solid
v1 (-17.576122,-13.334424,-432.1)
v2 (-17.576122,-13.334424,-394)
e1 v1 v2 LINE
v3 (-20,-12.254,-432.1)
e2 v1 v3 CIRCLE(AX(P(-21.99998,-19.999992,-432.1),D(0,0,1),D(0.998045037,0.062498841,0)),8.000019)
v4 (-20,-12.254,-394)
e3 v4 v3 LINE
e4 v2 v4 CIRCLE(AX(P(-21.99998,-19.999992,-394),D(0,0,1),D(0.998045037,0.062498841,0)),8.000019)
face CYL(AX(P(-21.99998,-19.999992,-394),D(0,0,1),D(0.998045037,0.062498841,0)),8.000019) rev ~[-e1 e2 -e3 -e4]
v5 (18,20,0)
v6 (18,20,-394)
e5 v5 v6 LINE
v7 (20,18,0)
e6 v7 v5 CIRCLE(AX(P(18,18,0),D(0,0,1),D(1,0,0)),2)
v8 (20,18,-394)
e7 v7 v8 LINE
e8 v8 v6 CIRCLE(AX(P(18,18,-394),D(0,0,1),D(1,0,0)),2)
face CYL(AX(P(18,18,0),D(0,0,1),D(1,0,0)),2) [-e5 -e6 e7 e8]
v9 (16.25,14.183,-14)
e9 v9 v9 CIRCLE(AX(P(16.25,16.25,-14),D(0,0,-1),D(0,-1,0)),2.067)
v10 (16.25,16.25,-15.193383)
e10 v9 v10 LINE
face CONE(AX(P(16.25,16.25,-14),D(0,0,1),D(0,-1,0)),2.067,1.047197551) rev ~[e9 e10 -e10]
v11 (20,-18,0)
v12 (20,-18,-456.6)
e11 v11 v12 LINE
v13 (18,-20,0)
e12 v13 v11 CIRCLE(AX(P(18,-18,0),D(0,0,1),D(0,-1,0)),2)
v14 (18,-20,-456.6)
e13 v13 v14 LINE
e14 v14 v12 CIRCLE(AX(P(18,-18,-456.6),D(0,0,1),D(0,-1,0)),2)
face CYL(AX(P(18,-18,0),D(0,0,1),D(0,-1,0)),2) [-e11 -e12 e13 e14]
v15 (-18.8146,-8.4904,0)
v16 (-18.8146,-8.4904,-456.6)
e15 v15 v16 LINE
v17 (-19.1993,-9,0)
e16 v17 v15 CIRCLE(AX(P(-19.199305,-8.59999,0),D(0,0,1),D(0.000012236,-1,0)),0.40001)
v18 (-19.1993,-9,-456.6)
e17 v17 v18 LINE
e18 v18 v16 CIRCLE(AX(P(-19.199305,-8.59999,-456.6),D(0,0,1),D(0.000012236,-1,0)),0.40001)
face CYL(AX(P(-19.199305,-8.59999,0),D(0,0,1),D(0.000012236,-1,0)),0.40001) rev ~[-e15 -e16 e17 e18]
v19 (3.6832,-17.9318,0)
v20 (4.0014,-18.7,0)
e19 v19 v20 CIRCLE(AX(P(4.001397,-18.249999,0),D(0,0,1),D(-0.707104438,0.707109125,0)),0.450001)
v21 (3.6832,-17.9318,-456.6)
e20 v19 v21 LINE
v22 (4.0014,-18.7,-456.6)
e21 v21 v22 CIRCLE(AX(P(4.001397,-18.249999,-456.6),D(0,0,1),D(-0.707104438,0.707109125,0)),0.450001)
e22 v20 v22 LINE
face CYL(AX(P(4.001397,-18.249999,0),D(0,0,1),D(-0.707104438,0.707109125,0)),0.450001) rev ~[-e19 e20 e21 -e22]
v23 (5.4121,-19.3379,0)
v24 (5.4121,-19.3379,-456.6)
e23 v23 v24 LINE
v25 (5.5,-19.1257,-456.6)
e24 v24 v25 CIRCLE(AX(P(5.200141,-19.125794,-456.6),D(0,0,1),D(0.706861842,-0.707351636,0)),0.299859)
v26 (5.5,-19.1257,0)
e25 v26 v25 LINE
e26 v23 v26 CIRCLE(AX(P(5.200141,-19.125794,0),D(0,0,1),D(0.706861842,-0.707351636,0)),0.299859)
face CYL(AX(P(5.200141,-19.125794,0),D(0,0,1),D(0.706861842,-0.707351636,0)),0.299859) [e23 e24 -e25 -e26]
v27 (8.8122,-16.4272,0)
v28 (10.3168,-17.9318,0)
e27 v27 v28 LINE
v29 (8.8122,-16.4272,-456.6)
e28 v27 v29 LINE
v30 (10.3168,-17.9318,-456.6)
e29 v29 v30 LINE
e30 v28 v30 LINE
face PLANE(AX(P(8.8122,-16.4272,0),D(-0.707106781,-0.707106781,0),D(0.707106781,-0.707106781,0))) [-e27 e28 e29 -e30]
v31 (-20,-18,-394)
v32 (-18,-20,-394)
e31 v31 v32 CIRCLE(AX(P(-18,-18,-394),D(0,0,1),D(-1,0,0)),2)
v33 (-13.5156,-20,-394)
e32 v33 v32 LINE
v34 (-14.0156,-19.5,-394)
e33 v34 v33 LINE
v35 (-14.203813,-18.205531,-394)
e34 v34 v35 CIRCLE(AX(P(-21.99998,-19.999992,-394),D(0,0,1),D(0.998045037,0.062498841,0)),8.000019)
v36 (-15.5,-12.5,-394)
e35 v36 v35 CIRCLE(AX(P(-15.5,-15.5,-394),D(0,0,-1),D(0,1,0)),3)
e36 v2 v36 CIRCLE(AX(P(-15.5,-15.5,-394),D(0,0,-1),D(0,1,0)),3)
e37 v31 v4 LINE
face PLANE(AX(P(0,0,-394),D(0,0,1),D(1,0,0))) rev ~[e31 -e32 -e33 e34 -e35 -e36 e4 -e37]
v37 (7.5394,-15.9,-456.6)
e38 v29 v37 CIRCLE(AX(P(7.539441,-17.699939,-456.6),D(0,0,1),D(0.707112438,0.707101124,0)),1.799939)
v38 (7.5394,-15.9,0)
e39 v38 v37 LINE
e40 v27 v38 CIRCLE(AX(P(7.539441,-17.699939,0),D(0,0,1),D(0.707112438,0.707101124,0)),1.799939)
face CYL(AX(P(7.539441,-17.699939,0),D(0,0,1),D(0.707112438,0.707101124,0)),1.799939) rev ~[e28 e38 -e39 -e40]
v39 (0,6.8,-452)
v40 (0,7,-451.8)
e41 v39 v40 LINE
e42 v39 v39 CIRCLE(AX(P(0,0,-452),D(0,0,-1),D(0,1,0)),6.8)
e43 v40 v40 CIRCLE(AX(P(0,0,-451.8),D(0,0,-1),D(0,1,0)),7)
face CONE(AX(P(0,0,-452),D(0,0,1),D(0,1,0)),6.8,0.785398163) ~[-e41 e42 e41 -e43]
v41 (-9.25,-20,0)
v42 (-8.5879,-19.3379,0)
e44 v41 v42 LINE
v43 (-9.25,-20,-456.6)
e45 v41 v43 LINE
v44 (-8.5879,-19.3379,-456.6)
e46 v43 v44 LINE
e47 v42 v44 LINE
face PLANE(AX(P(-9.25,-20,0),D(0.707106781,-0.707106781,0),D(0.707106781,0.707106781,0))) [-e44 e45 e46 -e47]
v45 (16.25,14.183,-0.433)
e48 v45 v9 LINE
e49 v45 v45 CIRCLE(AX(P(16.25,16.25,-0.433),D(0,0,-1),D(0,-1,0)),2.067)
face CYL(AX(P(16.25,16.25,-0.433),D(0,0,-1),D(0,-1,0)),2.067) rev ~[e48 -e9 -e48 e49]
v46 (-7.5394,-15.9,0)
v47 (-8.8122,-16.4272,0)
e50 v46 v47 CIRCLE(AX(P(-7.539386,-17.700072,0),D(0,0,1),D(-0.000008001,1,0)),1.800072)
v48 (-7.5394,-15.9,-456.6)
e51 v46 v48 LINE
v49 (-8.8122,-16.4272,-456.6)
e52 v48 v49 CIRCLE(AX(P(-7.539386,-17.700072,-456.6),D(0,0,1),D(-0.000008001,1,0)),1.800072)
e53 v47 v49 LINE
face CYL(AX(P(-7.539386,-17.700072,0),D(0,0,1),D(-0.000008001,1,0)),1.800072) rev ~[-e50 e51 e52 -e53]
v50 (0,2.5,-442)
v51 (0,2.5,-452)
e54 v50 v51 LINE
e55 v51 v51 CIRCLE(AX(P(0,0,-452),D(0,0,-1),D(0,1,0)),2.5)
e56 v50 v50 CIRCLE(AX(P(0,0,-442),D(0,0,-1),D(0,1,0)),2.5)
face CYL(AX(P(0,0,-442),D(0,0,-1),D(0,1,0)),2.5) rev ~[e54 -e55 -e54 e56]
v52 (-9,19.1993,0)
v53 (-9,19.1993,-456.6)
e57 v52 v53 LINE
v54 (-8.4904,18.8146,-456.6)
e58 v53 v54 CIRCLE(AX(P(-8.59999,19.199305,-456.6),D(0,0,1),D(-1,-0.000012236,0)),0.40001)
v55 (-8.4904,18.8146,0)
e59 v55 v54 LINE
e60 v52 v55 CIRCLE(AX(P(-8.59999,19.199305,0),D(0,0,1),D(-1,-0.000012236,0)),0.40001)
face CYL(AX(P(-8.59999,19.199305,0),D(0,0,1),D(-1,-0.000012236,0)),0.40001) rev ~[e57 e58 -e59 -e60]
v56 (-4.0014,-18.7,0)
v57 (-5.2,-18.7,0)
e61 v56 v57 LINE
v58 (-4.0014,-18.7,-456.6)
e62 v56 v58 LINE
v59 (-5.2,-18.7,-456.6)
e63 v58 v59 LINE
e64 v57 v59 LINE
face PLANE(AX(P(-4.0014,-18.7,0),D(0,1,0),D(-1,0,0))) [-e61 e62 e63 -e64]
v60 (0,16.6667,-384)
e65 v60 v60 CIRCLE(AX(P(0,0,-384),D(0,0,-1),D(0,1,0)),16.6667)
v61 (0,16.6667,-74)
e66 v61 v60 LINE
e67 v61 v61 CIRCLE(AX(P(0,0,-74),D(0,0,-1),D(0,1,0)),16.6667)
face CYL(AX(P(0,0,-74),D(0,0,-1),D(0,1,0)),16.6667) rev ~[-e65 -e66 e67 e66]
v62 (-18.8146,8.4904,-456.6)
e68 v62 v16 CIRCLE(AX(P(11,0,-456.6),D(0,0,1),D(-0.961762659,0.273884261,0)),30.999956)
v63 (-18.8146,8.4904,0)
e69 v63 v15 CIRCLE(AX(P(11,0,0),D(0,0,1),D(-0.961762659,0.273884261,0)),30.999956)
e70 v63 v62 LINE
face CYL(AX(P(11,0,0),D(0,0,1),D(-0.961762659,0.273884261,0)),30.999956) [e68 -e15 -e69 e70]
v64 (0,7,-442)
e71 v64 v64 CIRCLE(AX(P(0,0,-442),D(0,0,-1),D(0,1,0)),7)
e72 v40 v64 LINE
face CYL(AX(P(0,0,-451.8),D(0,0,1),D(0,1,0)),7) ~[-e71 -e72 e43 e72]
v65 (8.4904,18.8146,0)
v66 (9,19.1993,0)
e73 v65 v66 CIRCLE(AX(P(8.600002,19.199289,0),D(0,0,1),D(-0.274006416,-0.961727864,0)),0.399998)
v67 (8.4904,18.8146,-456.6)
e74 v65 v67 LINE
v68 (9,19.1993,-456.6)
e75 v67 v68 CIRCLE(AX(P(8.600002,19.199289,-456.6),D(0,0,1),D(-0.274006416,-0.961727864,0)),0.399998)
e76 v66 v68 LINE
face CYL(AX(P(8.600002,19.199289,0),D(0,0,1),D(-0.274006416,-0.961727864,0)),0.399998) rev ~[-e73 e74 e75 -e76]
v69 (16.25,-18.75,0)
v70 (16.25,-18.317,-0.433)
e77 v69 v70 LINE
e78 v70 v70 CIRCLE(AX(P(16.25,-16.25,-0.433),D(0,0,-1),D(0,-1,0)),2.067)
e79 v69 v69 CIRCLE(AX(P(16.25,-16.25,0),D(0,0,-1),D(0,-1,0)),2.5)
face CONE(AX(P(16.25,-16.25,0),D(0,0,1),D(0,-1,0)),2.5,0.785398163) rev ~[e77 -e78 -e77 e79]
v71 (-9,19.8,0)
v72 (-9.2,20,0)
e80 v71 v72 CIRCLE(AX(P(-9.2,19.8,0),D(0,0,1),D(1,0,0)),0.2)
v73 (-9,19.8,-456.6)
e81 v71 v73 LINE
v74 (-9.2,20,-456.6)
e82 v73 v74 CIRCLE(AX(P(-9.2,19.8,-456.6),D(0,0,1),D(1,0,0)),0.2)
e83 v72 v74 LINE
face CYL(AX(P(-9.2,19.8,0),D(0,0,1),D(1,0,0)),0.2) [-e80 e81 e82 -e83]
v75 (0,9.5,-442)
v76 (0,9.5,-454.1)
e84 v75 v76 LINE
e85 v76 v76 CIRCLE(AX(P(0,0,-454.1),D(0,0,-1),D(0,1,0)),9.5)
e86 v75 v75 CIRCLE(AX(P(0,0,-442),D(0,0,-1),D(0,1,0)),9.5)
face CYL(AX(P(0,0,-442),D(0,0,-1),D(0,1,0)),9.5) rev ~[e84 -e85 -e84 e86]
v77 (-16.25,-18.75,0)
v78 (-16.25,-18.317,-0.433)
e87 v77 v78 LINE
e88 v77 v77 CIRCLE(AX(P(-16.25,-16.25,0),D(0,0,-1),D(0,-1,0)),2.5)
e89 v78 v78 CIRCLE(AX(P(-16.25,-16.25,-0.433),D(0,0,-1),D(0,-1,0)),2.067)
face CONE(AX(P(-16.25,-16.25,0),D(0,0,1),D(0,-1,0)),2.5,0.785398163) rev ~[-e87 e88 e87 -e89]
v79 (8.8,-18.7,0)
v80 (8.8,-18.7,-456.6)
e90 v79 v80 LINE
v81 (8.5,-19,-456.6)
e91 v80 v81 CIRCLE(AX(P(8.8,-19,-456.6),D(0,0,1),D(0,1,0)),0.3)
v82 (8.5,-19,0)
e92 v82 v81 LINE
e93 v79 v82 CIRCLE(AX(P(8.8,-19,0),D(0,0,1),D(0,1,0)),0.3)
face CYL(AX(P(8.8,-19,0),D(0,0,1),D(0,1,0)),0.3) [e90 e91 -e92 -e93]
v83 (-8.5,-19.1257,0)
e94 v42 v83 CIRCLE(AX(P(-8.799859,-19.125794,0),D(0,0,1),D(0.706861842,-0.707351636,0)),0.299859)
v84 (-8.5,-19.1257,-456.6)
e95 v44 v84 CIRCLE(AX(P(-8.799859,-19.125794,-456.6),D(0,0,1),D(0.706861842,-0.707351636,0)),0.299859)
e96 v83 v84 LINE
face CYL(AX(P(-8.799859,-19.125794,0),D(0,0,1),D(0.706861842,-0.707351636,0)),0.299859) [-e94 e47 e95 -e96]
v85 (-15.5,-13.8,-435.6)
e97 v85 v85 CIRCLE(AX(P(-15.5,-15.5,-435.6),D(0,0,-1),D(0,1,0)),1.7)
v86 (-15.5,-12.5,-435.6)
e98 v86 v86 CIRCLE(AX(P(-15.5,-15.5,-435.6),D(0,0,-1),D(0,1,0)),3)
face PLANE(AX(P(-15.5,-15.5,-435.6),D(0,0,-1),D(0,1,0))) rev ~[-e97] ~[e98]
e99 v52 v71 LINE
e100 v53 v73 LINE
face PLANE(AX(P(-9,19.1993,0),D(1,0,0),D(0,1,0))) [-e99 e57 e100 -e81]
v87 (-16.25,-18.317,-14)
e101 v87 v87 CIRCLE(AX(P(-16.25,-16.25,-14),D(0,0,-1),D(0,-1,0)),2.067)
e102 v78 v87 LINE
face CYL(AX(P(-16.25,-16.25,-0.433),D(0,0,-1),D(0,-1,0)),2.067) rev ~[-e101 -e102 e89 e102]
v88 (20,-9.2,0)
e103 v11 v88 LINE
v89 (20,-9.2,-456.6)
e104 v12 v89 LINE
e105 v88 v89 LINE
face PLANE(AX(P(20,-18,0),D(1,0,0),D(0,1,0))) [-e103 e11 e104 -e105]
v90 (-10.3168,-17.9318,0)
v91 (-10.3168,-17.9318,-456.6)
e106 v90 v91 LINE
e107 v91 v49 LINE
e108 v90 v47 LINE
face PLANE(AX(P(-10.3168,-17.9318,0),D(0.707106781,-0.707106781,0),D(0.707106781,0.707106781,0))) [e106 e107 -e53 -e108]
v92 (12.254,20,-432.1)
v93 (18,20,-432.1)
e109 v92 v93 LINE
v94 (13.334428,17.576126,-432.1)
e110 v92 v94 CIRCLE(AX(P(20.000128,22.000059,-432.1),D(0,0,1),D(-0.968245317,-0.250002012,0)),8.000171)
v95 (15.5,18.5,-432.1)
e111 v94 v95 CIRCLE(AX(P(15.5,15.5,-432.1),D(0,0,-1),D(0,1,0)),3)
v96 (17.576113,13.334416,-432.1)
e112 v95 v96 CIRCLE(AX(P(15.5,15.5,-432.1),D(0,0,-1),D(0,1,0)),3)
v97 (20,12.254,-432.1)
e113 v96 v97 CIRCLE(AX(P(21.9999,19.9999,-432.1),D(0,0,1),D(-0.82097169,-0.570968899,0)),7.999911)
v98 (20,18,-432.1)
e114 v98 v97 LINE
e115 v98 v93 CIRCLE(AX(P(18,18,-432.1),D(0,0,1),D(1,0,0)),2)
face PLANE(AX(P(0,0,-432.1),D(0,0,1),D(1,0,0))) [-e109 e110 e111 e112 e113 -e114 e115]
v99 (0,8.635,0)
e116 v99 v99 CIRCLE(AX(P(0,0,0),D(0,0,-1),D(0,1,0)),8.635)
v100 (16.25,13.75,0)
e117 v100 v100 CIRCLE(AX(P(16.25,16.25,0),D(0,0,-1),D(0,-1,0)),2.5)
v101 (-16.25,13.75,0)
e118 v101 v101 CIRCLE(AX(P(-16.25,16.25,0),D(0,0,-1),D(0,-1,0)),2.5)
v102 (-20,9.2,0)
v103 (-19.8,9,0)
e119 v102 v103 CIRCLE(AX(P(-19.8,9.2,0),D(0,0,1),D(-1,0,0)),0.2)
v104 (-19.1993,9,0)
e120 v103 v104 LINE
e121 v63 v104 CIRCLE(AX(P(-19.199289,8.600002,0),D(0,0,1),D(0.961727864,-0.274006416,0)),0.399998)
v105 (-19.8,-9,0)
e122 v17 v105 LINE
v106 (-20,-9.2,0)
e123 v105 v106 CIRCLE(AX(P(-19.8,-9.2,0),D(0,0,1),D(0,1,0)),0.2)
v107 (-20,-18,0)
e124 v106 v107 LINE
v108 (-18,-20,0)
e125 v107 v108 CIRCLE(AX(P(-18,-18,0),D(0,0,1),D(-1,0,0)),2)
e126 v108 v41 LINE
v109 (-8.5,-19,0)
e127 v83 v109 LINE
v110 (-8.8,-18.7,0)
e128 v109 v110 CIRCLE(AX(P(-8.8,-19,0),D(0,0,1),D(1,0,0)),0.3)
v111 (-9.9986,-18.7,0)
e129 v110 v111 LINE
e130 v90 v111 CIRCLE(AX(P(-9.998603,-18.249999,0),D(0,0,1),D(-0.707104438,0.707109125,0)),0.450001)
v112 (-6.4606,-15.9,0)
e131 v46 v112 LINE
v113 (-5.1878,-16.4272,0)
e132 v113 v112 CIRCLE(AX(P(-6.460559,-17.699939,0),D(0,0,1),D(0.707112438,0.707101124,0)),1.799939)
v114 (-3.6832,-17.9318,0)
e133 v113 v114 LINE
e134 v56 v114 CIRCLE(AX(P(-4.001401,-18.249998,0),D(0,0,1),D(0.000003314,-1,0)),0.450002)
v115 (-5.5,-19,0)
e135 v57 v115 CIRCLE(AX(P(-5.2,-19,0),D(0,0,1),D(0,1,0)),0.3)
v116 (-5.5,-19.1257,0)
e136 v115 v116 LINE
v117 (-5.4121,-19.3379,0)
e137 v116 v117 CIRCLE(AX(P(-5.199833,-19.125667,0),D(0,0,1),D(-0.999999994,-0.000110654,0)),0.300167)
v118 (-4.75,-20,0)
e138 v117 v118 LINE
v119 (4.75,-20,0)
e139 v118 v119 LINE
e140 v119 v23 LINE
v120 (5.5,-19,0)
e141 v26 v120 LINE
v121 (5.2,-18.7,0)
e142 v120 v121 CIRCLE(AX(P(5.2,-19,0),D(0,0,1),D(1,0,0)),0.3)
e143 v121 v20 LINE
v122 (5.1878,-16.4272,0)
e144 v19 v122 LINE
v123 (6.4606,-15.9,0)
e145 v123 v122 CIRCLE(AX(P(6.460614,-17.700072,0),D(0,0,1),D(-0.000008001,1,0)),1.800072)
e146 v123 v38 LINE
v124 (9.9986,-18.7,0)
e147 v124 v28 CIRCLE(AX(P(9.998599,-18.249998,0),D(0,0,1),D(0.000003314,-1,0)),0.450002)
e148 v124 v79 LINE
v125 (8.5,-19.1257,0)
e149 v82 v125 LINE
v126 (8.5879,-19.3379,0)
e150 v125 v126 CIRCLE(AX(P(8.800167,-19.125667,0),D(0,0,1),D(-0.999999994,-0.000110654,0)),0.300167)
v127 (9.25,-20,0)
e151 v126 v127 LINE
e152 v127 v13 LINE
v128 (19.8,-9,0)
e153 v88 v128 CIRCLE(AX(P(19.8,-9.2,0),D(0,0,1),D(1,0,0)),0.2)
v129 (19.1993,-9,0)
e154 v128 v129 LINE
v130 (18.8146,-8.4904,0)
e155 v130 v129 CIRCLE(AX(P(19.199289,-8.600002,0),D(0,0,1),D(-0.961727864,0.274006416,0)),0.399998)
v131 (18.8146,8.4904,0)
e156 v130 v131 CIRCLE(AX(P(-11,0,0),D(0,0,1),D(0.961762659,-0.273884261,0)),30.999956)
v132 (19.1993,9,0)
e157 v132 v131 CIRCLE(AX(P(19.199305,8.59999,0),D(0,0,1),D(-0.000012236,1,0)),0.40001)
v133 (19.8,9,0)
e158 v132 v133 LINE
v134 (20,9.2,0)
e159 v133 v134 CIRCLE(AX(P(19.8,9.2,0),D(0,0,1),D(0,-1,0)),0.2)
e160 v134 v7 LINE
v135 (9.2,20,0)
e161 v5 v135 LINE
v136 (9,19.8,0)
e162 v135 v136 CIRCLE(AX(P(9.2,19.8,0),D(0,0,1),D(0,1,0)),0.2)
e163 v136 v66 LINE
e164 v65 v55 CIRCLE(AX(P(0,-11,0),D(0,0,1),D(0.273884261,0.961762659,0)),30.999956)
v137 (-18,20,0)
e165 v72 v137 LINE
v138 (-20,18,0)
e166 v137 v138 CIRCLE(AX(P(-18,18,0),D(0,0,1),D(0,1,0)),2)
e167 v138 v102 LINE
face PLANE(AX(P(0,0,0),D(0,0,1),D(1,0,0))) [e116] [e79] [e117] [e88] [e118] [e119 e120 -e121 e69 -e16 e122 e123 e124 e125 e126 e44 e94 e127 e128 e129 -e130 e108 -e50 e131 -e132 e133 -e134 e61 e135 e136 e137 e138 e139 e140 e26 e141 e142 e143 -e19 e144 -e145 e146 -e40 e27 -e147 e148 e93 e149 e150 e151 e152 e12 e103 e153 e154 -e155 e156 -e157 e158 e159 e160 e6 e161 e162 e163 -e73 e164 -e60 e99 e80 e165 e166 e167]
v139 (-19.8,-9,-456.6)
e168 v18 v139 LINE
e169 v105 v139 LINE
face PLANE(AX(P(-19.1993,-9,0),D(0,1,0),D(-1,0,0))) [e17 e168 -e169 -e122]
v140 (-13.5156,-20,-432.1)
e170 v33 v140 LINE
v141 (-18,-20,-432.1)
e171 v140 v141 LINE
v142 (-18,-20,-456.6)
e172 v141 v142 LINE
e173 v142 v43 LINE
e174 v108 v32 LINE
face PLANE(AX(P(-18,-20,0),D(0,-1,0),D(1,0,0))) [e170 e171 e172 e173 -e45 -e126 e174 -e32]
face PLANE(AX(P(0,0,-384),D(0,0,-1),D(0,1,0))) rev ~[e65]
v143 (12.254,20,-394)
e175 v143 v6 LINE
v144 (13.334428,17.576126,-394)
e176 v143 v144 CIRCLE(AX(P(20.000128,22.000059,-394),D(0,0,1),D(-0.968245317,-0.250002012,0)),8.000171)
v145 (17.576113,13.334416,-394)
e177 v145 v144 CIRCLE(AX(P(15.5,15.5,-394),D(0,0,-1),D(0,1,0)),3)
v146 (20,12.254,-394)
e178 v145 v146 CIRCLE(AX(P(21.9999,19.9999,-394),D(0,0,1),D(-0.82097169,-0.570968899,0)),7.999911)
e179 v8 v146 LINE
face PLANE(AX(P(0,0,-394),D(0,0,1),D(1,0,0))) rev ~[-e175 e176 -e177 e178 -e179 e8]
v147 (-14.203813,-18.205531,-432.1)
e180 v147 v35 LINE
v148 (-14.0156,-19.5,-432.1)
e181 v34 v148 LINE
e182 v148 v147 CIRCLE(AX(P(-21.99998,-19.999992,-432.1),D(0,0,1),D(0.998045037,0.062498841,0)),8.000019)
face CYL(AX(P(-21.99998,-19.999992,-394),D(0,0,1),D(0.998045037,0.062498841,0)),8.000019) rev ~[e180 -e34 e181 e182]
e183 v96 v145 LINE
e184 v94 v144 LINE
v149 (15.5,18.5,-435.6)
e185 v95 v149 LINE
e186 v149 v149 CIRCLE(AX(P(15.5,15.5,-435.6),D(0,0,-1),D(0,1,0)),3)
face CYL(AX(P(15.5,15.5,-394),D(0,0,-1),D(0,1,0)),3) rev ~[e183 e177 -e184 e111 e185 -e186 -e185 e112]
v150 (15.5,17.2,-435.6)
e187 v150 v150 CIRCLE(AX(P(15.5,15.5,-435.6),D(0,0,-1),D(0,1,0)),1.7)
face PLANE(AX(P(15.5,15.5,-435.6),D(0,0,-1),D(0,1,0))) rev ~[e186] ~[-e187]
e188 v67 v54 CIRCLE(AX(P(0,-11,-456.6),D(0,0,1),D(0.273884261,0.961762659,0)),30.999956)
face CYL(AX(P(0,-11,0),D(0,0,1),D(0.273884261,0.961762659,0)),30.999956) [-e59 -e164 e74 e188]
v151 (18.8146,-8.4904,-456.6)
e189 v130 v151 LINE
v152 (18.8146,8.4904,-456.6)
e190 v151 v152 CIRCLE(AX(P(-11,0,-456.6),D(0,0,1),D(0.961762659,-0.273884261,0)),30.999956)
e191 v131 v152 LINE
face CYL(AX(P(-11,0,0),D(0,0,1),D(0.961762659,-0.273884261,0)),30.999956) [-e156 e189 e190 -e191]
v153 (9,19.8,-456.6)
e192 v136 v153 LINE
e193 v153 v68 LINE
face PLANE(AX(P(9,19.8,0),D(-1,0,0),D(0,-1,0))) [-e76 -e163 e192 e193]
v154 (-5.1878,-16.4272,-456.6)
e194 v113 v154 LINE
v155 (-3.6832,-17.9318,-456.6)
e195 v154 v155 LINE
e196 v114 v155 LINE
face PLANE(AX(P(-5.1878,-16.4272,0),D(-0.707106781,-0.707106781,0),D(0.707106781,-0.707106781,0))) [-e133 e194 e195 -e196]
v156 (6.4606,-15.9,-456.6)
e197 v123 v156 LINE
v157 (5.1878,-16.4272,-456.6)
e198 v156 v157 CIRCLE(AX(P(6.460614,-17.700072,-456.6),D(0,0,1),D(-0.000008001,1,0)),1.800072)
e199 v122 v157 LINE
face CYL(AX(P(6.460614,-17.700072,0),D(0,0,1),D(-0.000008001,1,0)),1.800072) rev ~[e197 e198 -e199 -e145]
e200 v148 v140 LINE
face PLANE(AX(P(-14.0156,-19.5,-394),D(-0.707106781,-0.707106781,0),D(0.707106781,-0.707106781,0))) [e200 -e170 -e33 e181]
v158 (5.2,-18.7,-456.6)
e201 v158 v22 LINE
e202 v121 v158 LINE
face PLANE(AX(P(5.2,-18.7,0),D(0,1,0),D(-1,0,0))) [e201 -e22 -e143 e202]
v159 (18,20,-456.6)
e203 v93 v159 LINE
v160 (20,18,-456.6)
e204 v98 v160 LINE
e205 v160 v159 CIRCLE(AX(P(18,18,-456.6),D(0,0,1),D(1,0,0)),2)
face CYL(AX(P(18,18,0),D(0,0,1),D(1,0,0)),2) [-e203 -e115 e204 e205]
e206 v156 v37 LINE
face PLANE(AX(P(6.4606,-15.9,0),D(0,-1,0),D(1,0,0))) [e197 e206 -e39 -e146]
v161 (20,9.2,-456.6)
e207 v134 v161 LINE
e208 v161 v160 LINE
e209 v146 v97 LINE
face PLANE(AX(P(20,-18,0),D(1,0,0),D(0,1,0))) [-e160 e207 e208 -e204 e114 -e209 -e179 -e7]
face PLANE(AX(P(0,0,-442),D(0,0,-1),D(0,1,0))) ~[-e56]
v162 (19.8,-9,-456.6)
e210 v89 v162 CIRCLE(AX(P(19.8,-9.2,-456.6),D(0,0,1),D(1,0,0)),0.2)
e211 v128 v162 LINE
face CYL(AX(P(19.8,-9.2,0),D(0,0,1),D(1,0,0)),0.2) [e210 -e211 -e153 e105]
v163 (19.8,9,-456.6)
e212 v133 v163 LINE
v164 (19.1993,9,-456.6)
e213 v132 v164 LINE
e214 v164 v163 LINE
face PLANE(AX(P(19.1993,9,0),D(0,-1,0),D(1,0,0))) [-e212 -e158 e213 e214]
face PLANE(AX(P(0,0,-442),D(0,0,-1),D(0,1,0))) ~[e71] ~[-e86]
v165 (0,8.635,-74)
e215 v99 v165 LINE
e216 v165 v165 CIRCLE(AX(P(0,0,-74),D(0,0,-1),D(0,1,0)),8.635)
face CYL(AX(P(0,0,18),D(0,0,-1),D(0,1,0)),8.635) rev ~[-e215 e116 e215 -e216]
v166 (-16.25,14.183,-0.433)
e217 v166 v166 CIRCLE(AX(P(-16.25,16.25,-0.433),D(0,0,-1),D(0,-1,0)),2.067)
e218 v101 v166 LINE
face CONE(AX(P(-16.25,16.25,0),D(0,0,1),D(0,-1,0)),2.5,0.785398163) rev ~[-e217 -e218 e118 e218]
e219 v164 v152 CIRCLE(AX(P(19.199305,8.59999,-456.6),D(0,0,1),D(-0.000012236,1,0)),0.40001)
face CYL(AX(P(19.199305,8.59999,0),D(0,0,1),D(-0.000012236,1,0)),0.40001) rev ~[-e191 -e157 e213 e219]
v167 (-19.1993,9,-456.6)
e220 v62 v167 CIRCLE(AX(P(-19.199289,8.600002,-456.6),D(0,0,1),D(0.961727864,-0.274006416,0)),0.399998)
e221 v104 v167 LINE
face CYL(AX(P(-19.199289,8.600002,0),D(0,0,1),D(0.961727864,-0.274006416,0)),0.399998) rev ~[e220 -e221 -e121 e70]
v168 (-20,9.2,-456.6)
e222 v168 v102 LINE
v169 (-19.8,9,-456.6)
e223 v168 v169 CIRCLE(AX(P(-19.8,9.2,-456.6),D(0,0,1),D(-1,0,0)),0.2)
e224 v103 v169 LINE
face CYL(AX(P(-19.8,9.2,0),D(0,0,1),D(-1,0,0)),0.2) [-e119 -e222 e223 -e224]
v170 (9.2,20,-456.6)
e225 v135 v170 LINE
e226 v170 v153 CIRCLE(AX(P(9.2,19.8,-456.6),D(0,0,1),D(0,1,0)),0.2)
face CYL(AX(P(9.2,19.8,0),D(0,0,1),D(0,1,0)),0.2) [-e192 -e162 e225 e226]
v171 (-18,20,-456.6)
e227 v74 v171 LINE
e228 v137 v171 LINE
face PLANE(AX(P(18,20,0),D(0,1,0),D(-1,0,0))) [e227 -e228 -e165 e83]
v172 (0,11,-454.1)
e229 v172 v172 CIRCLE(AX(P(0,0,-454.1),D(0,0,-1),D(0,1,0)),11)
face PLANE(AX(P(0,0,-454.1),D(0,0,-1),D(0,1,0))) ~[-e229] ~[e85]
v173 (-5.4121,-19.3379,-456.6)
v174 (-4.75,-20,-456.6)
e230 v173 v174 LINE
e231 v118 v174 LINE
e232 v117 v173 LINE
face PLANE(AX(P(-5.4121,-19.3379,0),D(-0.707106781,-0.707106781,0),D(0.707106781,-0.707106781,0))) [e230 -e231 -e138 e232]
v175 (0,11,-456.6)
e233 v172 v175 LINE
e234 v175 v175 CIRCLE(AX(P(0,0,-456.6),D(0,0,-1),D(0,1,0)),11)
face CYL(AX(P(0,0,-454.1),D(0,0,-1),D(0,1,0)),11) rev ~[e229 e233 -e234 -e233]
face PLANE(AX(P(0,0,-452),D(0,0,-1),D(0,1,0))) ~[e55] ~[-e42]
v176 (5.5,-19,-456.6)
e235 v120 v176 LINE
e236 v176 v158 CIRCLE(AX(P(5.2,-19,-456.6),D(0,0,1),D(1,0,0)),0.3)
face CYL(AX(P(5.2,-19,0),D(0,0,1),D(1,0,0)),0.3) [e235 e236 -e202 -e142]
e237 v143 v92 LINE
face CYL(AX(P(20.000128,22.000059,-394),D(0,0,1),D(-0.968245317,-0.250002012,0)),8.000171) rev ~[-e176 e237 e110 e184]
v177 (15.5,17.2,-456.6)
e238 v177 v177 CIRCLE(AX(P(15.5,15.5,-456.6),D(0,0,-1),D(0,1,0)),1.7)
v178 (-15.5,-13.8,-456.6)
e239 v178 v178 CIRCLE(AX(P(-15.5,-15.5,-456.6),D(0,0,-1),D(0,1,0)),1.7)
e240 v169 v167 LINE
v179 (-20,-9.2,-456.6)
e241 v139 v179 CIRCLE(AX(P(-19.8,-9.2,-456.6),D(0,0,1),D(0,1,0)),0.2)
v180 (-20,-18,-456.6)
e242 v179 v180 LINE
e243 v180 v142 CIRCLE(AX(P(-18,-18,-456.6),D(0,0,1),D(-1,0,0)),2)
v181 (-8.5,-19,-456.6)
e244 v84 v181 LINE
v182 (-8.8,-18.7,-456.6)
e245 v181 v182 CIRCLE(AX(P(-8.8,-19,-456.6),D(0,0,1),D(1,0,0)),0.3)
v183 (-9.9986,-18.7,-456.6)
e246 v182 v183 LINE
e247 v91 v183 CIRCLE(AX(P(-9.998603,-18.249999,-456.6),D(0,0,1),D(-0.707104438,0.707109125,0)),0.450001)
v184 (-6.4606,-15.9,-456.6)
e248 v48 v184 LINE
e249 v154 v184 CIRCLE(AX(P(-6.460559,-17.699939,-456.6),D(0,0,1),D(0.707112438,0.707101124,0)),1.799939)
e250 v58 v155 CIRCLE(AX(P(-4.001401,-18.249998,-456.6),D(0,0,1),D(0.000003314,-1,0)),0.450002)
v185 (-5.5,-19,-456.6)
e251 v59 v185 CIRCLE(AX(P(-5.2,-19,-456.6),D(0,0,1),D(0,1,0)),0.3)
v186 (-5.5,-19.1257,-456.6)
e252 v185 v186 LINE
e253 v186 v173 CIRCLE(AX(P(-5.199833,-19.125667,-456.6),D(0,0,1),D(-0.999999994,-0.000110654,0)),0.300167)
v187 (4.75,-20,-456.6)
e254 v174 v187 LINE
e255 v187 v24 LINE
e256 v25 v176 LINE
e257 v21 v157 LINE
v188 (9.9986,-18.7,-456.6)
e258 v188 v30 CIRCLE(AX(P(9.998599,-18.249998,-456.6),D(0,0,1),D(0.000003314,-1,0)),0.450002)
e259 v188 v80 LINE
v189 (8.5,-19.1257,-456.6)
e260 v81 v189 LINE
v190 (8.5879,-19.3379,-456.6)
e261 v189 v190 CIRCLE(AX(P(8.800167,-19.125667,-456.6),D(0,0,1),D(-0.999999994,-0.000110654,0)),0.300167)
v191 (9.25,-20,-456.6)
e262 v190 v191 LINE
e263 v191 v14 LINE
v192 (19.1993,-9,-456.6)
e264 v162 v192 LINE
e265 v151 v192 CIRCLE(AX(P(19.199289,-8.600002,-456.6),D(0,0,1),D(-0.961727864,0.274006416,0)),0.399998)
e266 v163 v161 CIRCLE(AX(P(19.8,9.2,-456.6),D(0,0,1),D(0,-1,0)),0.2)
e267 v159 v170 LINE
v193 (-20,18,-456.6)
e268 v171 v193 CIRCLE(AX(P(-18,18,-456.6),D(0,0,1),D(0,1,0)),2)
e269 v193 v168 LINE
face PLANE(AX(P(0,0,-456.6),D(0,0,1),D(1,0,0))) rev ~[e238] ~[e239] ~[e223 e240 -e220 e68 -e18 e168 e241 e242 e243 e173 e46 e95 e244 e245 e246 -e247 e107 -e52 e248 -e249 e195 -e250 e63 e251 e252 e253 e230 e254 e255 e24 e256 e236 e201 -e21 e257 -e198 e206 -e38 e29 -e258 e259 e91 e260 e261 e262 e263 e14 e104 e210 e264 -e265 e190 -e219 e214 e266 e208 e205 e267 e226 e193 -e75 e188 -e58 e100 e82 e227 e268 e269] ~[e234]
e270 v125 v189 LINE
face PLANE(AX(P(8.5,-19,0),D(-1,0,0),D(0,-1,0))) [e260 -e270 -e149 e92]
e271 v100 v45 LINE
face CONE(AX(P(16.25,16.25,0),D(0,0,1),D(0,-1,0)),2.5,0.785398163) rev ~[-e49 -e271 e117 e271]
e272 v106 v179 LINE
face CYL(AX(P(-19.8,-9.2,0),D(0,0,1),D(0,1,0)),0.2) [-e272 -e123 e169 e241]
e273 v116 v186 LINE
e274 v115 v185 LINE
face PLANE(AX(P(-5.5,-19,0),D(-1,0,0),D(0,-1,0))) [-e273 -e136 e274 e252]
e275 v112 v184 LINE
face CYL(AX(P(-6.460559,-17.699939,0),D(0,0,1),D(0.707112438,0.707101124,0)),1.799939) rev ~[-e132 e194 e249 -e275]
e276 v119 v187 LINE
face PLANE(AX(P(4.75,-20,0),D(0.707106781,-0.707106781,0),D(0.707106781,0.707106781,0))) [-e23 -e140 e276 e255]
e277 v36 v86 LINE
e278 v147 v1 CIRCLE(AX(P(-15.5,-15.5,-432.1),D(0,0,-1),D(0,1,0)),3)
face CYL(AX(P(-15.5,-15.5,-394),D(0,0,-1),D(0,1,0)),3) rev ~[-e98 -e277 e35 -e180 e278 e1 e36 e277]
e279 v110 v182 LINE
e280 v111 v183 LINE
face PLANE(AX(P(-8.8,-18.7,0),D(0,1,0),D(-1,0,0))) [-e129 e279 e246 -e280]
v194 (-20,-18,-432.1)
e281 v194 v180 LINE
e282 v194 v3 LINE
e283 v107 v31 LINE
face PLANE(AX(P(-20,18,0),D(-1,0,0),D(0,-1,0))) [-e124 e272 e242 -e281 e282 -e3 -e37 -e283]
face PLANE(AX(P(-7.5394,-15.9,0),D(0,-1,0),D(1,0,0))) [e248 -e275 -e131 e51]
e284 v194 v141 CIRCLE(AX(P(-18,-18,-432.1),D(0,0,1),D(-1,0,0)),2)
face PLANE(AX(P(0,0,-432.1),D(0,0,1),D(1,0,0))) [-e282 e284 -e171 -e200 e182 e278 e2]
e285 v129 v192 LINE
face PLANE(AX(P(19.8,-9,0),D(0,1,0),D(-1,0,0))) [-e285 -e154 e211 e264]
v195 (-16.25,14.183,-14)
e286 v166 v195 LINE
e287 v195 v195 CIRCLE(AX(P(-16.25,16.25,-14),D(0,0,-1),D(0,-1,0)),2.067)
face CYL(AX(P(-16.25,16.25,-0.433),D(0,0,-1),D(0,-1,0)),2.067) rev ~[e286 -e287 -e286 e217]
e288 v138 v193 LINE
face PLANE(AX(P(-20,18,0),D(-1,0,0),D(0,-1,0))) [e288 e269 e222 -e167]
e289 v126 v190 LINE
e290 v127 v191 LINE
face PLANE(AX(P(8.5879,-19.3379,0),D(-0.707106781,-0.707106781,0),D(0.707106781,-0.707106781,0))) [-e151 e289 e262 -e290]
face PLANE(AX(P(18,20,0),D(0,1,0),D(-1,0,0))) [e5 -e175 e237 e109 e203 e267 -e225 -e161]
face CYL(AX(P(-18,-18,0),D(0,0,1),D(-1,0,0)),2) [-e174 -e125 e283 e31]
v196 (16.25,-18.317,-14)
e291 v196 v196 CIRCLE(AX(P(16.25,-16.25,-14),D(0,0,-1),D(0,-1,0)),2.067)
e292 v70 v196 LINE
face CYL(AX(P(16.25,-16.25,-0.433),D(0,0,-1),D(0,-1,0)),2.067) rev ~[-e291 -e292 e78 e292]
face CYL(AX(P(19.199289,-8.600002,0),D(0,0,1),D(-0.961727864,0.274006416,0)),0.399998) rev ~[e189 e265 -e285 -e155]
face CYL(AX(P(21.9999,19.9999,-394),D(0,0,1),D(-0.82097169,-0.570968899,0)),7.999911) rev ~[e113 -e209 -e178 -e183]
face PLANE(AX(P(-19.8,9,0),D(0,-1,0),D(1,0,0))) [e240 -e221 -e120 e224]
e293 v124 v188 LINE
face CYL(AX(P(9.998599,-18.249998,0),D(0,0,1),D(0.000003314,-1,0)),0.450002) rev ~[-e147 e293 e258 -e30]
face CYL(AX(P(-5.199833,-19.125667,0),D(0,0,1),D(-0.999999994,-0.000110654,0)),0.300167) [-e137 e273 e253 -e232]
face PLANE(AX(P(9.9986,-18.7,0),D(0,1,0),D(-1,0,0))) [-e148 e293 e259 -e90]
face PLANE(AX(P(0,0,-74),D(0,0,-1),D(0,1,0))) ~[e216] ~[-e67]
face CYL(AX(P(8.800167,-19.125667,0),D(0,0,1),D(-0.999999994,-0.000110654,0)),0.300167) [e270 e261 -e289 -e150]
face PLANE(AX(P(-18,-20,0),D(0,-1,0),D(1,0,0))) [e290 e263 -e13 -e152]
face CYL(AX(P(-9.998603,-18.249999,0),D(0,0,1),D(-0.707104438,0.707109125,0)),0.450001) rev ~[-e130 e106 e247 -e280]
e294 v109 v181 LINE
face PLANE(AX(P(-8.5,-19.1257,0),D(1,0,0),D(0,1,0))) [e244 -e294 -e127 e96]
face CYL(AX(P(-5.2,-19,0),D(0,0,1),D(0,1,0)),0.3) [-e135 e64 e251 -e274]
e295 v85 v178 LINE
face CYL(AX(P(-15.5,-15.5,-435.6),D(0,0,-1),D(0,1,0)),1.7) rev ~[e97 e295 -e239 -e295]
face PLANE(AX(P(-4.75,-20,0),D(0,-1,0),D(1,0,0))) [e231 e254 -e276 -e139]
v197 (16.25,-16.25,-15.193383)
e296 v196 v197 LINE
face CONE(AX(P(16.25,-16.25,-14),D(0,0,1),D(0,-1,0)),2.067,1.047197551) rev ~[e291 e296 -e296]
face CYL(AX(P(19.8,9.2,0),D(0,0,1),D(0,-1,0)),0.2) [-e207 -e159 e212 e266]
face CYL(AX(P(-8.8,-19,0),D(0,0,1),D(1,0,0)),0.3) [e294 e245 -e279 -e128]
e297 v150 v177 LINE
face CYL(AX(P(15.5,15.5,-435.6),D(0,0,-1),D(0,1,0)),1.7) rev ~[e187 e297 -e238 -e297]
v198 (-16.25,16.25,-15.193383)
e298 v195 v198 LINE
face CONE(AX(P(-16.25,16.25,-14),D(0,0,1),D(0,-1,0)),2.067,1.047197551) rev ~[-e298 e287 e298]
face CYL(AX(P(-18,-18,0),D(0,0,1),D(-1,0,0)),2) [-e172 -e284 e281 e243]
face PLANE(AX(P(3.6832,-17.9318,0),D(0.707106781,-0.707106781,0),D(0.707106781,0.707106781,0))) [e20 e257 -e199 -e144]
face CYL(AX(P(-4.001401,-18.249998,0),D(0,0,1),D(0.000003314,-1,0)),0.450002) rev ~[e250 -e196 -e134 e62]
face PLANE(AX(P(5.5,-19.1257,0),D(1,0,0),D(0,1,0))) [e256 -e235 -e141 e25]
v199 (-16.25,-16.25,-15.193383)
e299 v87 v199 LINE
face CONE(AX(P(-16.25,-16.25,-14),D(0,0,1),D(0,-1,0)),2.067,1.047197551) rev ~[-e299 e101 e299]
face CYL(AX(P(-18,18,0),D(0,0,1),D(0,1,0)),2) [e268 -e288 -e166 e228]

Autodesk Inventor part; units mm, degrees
sketch "Sketch_1" plane through (0, 0, 0) normal (0, 0, 1) x (1, 0, 0)
  arc A0 (-20, -18) -> (-18, -20) centre (-18, -18) ccw
  line L0 (-18, -20) -> (18, -20)
  arc A1 (18, -20) -> (20, -18) centre (18, -18) ccw
  line L1 (20, -18) -> (20, 18)
  arc A2 (20, 18) -> (18, 20) centre (18, 18) ccw
  line L2 (18, 20) -> (-18, 20)
  arc A3 (-18, 20) -> (-20, 18) centre (-18, 18) ccw
  line L3 (-20, 18) -> (-20, -18)
extrude "Extrusion1" add sketch "Sketch_1" against normal blind 456.6
sketch "Sketch_2" plane through (0, 0, 0) normal (0, 0, 1) x (1, 0, 0)
  line L0 (-40, -40) -> (40, -40)
  line L1 (40, -40) -> (40, 40)
  line L2 (40, 40) -> (-40, 40)
  line L3 (-40, 40) -> (-40, -40)
  arc A0 (-18.8146, 8.4904) -> (-18.8146, -8.4904) centre (11, 0) ccw
  arc A1 (-19.1993, -9) -> (-18.8146, -8.4904) centre (-19.1993, -8.6) ccw
  line L4 (-19.1993, -9) -> (-19.8, -9)
  arc A2 (-19.8, -9) -> (-20, -9.2) centre (-19.8, -9.2) ccw
  line L5 (-20, -9.2) -> (-20, -18)
  arc A3 (-20, -18) -> (-18, -20) centre (-18, -18) ccw
  line L6 (-18, -20) -> (-9.25, -20)
  line L7 (-9.25, -20) -> (-8.5879, -19.3379)
  arc A4 (-8.5879, -19.3379) -> (-8.5, -19.1257) centre (-8.8, -19.1257) ccw
  line L8 (-8.5, -19.1257) -> (-8.5, -19)
  arc A5 (-8.5, -19) -> (-8.8, -18.7) centre (-8.8, -19) ccw
  line L9 (-8.8, -18.7) -> (-9.9986, -18.7)
  arc A6 (-10.3168, -17.9318) -> (-9.9986, -18.7) centre (-9.9986, -18.25) ccw
  line L10 (-10.3168, -17.9318) -> (-8.8122, -16.4272)
  arc A7 (-7.5394, -15.9) -> (-8.8122, -16.4272) centre (-7.5394, -17.7) ccw
  line L11 (-7.5394, -15.9) -> (-6.4606, -15.9)
  arc A8 (-5.1878, -16.4272) -> (-6.4606, -15.9) centre (-6.4606, -17.7) ccw
  line L12 (-5.1878, -16.4272) -> (-3.6832, -17.9318)
  arc A9 (-4.0014, -18.7) -> (-3.6832, -17.9318) centre (-4.0014, -18.25) ccw
  line L13 (-4.0014, -18.7) -> (-5.2, -18.7)
  arc A10 (-5.2, -18.7) -> (-5.5, -19) centre (-5.2, -19) ccw
  line L14 (-5.5, -19) -> (-5.5, -19.1257)
  arc A11 (-5.5, -19.1257) -> (-5.4121, -19.3379) centre (-5.2, -19.1257) ccw
  line L15 (-5.4121, -19.3379) -> (-4.75, -20)
  line L16 (-4.75, -20) -> (4.75, -20)
  line L17 (4.75, -20) -> (5.4121, -19.3379)
  arc A12 (5.4121, -19.3379) -> (5.5, -19.1257) centre (5.2, -19.1257) ccw
  line L18 (5.5, -19.1257) -> (5.5, -19)
  arc A13 (5.5, -19) -> (5.2, -18.7) centre (5.2, -19) ccw
  line L19 (5.2, -18.7) -> (4.0014, -18.7)
  arc A14 (3.6832, -17.9318) -> (4.0014, -18.7) centre (4.0014, -18.25) ccw
  line L20 (3.6832, -17.9318) -> (5.1878, -16.4272)
  arc A15 (6.4606, -15.9) -> (5.1878, -16.4272) centre (6.4606, -17.7) ccw
  line L21 (6.4606, -15.9) -> (7.5394, -15.9)
  arc A16 (8.8122, -16.4272) -> (7.5394, -15.9) centre (7.5394, -17.7) ccw
  line L22 (8.8122, -16.4272) -> (10.3168, -17.9318)
  arc A17 (9.9986, -18.7) -> (10.3168, -17.9318) centre (9.9986, -18.25) ccw
  line L23 (9.9986, -18.7) -> (8.8, -18.7)
  arc A18 (8.8, -18.7) -> (8.5, -19) centre (8.8, -19) ccw
  line L24 (8.5, -19) -> (8.5, -19.1257)
  arc A19 (8.5, -19.1257) -> (8.5879, -19.3379) centre (8.8, -19.1257) ccw
  line L25 (8.5879, -19.3379) -> (9.25, -20)
  line L26 (9.25, -20) -> (18, -20)
  arc A20 (18, -20) -> (20, -18) centre (18, -18) ccw
  line L27 (20, -18) -> (20, -9.2)
  arc A21 (20, -9.2) -> (19.8, -9) centre (19.8, -9.2) ccw
  line L28 (19.8, -9) -> (19.1993, -9)
  arc A22 (18.8146, -8.4904) -> (19.1993, -9) centre (19.1993, -8.6) ccw
  arc A23 (18.8146, -8.4904) -> (18.8146, 8.4904) centre (-11, 0) ccw
  arc A24 (19.1993, 9) -> (18.8146, 8.4904) centre (19.1993, 8.6) ccw
  line L29 (19.1993, 9) -> (19.8, 9)
  arc A25 (19.8, 9) -> (20, 9.2) centre (19.8, 9.2) ccw
  line L30 (20, 9.2) -> (20, 18)
  arc A26 (20, 18) -> (18, 20) centre (18, 18) ccw
  line L31 (18, 20) -> (9.2, 20)
  arc A27 (9.2, 20) -> (9, 19.8) centre (9.2, 19.8) ccw
  line L32 (9, 19.8) -> (9, 19.1993)
  arc A28 (8.4904, 18.8146) -> (9, 19.1993) centre (8.6, 19.1993) ccw
  arc A29 (8.4904, 18.8146) -> (-8.4904, 18.8146) centre (0, -11) ccw
  arc A30 (-9, 19.1993) -> (-8.4904, 18.8146) centre (-8.6, 19.1993) ccw
  line L33 (-9, 19.1993) -> (-9, 19.8)
  arc A31 (-9, 19.8) -> (-9.2, 20) centre (-9.2, 19.8) ccw
  line L34 (-9.2, 20) -> (-18, 20)
  arc A32 (-18, 20) -> (-20, 18) centre (-18, 18) ccw
  line L35 (-20, 18) -> (-20, 9.2)
  arc A33 (-20, 9.2) -> (-19.8, 9) centre (-19.8, 9.2) ccw
  line L36 (-19.8, 9) -> (-19.1993, 9)
  arc A34 (-18.8146, 8.4904) -> (-19.1993, 9) centre (-19.1993, 8.6) ccw
extrude "Extrusion2" cut sketch "Sketch_2" against normal blind 456.6
sketch "Sketch_3" plane through (0, 0, -394) normal (0, 0, 1) x (1, 0, 0)
  line L0 (-40, -40) -> (40, -40)
  line L1 (40, -40) -> (40, 40)
  line L2 (40, 40) -> (-40, 40)
  line L3 (-40, 40) -> (-40, -40)
  arc A0 (-14.0156, -19.5) -> (-20, -12.254) centre (-22, -20) ccw
  line L4 (-14.0156, -19.5) -> (-13.5156, -20)
  line L5 (-13.5156, -20) -> (20, -20)
  line L6 (20, -20) -> (20, 12.254)
  arc A1 (15.4322, 15.4322) -> (20, 12.254) centre (22, 20) ccw
  arc A2 (12.254, 20) -> (15.4322, 15.4322) centre (20, 22) ccw
  line L7 (12.254, 20) -> (-20, 20)
  line L8 (-20, 20) -> (-20, -12.254)
extrude "Extrusion3" cut sketch "Sketch_3" against normal blind 38.1
sketch "Sketch_4" plane through (-15.5, 0, 0) normal (1, 0, 0) x (0, 0, -1)
  line L0 (456.6, -15.5) -> (394, -15.5)
  line L1 (394, -15.5) -> (394, -12.5)
  line L2 (394, -12.5) -> (435.6, -12.5)
  line L3 (435.6, -12.5) -> (435.6, -13.8)
  line L4 (435.6, -13.8) -> (456.6, -13.8)
  line L5 (456.6, -13.8) -> (456.6, -15.5)
  line L6 (456.6, -15.5) -> (394, -15.5)
revolve "Revolution1" cut sketch "Sketch_4" angle 360 about axis through (-15.5, -15.5, -456.6) along (0, 0, -1)
sketch "Sketch_5" plane through (15.5, 0, 0) normal (1, 0, 0) x (0, 0, -1)
  line L0 (456.6, 15.5) -> (394, 15.5)
  line L1 (394, 15.5) -> (394, 18.5)
  line L2 (394, 18.5) -> (435.6, 18.5)
  line L3 (435.6, 18.5) -> (435.6, 17.2)
  line L4 (435.6, 17.2) -> (456.6, 17.2)
  line L5 (456.6, 17.2) -> (456.6, 15.5)
  line L6 (456.6, 15.5) -> (394, 15.5)
revolve "Revolution2" cut sketch "Sketch_5" angle 360 about axis through (15.5, 15.5, -456.6) along (0, 0, -1)
sketch "Sketch_6" plane through (0, 0, 0) normal (1, 0, 0) x (0, 1, 0)
  line L0 (0, -456.6) -> (0, -442)
  line L1 (0, -442) -> (2.5, -442)
  line L2 (2.5, -442) -> (2.5, -452)
  line L3 (2.5, -452) -> (6.8, -452)
  line L4 (6.8, -452) -> (7, -451.8)
  line L5 (7, -451.8) -> (7, -442)
  line L6 (7, -442) -> (9.5, -442)
  line L7 (9.5, -442) -> (9.5, -454.1)
  line L8 (9.5, -454.1) -> (11, -454.1)
  line L9 (11, -454.1) -> (11, -456.6)
  line L10 (11, -456.6) -> (0, -456.6)
  line L11 (0, -456.6) -> (0, -442)
revolve "Revolution3" cut sketch "Sketch_6" angle 360 about axis through (0, 0, -456.6) along (0, 0, -1)
sketch "Sketch_7" plane through (0, 0, 0) normal (1, 0, 0) x (0, 1, 0)
  line L0 (0, -384) -> (0, 18)
  line L1 (0, 18) -> (8.635, 18)
  line L2 (8.635, 18) -> (8.635, -74)
  line L3 (8.635, -74) -> (16.6667, -74)
  line L4 (16.6667, -74) -> (16.6667, -384)
  line L5 (16.6667, -384) -> (0, -384)
  line L6 (0, -384) -> (0, 18)
revolve "Revolution4" cut sketch "Sketch_7" angle 360 about axis through (0, 0, -384) along (0, 0, -1)
sketch "Sketch8" plane through (0, 0, 0) normal (0, 0, 1) x (1, 0, 0)
  point P0 (16.25, 16.25)
hole "Hole1" at (16.25, 16.25, 0) direction (0, 0, -1) diameter 4.134 depth 14 tip angle 120 countersink diameter 5 countersink angle 90 thread size "M5x0.8" class "6H" standard "ISO Metric profile"
sketch "Sketch9" plane through (0, 0, 0) normal (0, 0, 1) x (1, 0, 0)
  point P0 (16.25, -16.25)
hole "Hole2" at (16.25, -16.25, 0) direction (0, 0, -1) diameter 4.134 depth 14 tip angle 120 countersink diameter 5 countersink angle 90 thread size "M5x0.8" class "6H" standard "ISO Metric profile"
sketch "Sketch10" plane through (0, 0, 0) normal (0, 0, 1) x (1, 0, 0)
  point P0 (-16.25, 16.25)
hole "Hole3" at (-16.25, 16.25, 0) direction (0, 0, -1) diameter 4.134 depth 14 tip angle 120 countersink diameter 5 countersink angle 90 thread size "M5x0.8" class "6H" standard "ISO Metric profile"
sketch "Sketch11" plane through (0, 0, 0) normal (0, 0, 1) x (1, 0, 0)
  point P0 (-16.25, -16.25)
hole "Hole4" at (-16.25, -16.25, 0) direction (0, 0, -1) diameter 4.134 depth 14 tip angle 120 countersink diameter 5 countersink angle 90 thread size "M5x0.8" class "6H" standard "ISO Metric profile"
ref_plane "ANBAU_XY" through (0, 0, 0) normal (0, 0, -1) x (1, 0, 0)
ref_plane "ANBAU_YZ" through (0, 0, 0) normal (1, 0, 0) x (0, -1, 0)
ref_plane "ANBAU_ZX" through (0, 0, 0) normal (0, -1, 0) x (0, 0, -1)
ref_plane "DIM_H2_2_XY" through (18, -20, 0) normal (0, 0, 1) x (1, 0, 0)
ref_plane "DIM_H2_2_YZ" through (18, -20, 0) normal (1, 0, 0) x (0, 1, 0)
ref_plane "DIM_H2_2_ZX" through (18, -20, 0) normal (0, 1, 0) x (0, 0, 1)
ref_plane "SCREW_1_XY" through (15.5, 15.5, -435.6) normal (0, 0, -1) x (1, 0, 0)
ref_plane "SCREW_1_YZ" through (15.5, 15.5, -435.6) normal (1, 0, 0) x (0, -1, 0)
ref_plane "SCREW_1_ZX" through (15.5, 15.5, -435.6) normal (0, -1, 0) x (0, 0, -1)
ref_plane "SCREW_2_XY" through (-15.5, -15.5, -435.6) normal (0, 0, -1) x (1, 0, 0)
ref_plane "SCREW_2_YZ" through (-15.5, -15.5, -435.6) normal (1, 0, 0) x (0, -1, 0)
ref_plane "SCREW_2_ZX" through (-15.5, -15.5, -435.6) normal (0, -1, 0) x (0, 0, -1)
ref_plane "TO_KS_XY" through (0, 0, 0) normal (0, 0, 1) x (1, 0, 0)
ref_plane "TO_KS_YZ" through (0, 0, 0) normal (1, 0, 0) x (0, 1, 0)
ref_plane "TO_KS_ZX" through (0, 0, 0) normal (0, 1, 0) x (0, 0, 1)
ref_plane "TO_MOTOR_XY" through (0, 0, -456.6) normal (0, 0, 1) x (1, 0, 0)
ref_plane "TO_MOTOR_YZ" through (0, 0, -456.6) normal (1, 0, 0) x (0, 1, 0)
ref_plane "TO_MOTOR_ZX" through (0, 0, -456.6) normal (0, 1, 0) x (0, 0, 1)
properties part number "1470874 EPCO-25-30000_z---(0)"
